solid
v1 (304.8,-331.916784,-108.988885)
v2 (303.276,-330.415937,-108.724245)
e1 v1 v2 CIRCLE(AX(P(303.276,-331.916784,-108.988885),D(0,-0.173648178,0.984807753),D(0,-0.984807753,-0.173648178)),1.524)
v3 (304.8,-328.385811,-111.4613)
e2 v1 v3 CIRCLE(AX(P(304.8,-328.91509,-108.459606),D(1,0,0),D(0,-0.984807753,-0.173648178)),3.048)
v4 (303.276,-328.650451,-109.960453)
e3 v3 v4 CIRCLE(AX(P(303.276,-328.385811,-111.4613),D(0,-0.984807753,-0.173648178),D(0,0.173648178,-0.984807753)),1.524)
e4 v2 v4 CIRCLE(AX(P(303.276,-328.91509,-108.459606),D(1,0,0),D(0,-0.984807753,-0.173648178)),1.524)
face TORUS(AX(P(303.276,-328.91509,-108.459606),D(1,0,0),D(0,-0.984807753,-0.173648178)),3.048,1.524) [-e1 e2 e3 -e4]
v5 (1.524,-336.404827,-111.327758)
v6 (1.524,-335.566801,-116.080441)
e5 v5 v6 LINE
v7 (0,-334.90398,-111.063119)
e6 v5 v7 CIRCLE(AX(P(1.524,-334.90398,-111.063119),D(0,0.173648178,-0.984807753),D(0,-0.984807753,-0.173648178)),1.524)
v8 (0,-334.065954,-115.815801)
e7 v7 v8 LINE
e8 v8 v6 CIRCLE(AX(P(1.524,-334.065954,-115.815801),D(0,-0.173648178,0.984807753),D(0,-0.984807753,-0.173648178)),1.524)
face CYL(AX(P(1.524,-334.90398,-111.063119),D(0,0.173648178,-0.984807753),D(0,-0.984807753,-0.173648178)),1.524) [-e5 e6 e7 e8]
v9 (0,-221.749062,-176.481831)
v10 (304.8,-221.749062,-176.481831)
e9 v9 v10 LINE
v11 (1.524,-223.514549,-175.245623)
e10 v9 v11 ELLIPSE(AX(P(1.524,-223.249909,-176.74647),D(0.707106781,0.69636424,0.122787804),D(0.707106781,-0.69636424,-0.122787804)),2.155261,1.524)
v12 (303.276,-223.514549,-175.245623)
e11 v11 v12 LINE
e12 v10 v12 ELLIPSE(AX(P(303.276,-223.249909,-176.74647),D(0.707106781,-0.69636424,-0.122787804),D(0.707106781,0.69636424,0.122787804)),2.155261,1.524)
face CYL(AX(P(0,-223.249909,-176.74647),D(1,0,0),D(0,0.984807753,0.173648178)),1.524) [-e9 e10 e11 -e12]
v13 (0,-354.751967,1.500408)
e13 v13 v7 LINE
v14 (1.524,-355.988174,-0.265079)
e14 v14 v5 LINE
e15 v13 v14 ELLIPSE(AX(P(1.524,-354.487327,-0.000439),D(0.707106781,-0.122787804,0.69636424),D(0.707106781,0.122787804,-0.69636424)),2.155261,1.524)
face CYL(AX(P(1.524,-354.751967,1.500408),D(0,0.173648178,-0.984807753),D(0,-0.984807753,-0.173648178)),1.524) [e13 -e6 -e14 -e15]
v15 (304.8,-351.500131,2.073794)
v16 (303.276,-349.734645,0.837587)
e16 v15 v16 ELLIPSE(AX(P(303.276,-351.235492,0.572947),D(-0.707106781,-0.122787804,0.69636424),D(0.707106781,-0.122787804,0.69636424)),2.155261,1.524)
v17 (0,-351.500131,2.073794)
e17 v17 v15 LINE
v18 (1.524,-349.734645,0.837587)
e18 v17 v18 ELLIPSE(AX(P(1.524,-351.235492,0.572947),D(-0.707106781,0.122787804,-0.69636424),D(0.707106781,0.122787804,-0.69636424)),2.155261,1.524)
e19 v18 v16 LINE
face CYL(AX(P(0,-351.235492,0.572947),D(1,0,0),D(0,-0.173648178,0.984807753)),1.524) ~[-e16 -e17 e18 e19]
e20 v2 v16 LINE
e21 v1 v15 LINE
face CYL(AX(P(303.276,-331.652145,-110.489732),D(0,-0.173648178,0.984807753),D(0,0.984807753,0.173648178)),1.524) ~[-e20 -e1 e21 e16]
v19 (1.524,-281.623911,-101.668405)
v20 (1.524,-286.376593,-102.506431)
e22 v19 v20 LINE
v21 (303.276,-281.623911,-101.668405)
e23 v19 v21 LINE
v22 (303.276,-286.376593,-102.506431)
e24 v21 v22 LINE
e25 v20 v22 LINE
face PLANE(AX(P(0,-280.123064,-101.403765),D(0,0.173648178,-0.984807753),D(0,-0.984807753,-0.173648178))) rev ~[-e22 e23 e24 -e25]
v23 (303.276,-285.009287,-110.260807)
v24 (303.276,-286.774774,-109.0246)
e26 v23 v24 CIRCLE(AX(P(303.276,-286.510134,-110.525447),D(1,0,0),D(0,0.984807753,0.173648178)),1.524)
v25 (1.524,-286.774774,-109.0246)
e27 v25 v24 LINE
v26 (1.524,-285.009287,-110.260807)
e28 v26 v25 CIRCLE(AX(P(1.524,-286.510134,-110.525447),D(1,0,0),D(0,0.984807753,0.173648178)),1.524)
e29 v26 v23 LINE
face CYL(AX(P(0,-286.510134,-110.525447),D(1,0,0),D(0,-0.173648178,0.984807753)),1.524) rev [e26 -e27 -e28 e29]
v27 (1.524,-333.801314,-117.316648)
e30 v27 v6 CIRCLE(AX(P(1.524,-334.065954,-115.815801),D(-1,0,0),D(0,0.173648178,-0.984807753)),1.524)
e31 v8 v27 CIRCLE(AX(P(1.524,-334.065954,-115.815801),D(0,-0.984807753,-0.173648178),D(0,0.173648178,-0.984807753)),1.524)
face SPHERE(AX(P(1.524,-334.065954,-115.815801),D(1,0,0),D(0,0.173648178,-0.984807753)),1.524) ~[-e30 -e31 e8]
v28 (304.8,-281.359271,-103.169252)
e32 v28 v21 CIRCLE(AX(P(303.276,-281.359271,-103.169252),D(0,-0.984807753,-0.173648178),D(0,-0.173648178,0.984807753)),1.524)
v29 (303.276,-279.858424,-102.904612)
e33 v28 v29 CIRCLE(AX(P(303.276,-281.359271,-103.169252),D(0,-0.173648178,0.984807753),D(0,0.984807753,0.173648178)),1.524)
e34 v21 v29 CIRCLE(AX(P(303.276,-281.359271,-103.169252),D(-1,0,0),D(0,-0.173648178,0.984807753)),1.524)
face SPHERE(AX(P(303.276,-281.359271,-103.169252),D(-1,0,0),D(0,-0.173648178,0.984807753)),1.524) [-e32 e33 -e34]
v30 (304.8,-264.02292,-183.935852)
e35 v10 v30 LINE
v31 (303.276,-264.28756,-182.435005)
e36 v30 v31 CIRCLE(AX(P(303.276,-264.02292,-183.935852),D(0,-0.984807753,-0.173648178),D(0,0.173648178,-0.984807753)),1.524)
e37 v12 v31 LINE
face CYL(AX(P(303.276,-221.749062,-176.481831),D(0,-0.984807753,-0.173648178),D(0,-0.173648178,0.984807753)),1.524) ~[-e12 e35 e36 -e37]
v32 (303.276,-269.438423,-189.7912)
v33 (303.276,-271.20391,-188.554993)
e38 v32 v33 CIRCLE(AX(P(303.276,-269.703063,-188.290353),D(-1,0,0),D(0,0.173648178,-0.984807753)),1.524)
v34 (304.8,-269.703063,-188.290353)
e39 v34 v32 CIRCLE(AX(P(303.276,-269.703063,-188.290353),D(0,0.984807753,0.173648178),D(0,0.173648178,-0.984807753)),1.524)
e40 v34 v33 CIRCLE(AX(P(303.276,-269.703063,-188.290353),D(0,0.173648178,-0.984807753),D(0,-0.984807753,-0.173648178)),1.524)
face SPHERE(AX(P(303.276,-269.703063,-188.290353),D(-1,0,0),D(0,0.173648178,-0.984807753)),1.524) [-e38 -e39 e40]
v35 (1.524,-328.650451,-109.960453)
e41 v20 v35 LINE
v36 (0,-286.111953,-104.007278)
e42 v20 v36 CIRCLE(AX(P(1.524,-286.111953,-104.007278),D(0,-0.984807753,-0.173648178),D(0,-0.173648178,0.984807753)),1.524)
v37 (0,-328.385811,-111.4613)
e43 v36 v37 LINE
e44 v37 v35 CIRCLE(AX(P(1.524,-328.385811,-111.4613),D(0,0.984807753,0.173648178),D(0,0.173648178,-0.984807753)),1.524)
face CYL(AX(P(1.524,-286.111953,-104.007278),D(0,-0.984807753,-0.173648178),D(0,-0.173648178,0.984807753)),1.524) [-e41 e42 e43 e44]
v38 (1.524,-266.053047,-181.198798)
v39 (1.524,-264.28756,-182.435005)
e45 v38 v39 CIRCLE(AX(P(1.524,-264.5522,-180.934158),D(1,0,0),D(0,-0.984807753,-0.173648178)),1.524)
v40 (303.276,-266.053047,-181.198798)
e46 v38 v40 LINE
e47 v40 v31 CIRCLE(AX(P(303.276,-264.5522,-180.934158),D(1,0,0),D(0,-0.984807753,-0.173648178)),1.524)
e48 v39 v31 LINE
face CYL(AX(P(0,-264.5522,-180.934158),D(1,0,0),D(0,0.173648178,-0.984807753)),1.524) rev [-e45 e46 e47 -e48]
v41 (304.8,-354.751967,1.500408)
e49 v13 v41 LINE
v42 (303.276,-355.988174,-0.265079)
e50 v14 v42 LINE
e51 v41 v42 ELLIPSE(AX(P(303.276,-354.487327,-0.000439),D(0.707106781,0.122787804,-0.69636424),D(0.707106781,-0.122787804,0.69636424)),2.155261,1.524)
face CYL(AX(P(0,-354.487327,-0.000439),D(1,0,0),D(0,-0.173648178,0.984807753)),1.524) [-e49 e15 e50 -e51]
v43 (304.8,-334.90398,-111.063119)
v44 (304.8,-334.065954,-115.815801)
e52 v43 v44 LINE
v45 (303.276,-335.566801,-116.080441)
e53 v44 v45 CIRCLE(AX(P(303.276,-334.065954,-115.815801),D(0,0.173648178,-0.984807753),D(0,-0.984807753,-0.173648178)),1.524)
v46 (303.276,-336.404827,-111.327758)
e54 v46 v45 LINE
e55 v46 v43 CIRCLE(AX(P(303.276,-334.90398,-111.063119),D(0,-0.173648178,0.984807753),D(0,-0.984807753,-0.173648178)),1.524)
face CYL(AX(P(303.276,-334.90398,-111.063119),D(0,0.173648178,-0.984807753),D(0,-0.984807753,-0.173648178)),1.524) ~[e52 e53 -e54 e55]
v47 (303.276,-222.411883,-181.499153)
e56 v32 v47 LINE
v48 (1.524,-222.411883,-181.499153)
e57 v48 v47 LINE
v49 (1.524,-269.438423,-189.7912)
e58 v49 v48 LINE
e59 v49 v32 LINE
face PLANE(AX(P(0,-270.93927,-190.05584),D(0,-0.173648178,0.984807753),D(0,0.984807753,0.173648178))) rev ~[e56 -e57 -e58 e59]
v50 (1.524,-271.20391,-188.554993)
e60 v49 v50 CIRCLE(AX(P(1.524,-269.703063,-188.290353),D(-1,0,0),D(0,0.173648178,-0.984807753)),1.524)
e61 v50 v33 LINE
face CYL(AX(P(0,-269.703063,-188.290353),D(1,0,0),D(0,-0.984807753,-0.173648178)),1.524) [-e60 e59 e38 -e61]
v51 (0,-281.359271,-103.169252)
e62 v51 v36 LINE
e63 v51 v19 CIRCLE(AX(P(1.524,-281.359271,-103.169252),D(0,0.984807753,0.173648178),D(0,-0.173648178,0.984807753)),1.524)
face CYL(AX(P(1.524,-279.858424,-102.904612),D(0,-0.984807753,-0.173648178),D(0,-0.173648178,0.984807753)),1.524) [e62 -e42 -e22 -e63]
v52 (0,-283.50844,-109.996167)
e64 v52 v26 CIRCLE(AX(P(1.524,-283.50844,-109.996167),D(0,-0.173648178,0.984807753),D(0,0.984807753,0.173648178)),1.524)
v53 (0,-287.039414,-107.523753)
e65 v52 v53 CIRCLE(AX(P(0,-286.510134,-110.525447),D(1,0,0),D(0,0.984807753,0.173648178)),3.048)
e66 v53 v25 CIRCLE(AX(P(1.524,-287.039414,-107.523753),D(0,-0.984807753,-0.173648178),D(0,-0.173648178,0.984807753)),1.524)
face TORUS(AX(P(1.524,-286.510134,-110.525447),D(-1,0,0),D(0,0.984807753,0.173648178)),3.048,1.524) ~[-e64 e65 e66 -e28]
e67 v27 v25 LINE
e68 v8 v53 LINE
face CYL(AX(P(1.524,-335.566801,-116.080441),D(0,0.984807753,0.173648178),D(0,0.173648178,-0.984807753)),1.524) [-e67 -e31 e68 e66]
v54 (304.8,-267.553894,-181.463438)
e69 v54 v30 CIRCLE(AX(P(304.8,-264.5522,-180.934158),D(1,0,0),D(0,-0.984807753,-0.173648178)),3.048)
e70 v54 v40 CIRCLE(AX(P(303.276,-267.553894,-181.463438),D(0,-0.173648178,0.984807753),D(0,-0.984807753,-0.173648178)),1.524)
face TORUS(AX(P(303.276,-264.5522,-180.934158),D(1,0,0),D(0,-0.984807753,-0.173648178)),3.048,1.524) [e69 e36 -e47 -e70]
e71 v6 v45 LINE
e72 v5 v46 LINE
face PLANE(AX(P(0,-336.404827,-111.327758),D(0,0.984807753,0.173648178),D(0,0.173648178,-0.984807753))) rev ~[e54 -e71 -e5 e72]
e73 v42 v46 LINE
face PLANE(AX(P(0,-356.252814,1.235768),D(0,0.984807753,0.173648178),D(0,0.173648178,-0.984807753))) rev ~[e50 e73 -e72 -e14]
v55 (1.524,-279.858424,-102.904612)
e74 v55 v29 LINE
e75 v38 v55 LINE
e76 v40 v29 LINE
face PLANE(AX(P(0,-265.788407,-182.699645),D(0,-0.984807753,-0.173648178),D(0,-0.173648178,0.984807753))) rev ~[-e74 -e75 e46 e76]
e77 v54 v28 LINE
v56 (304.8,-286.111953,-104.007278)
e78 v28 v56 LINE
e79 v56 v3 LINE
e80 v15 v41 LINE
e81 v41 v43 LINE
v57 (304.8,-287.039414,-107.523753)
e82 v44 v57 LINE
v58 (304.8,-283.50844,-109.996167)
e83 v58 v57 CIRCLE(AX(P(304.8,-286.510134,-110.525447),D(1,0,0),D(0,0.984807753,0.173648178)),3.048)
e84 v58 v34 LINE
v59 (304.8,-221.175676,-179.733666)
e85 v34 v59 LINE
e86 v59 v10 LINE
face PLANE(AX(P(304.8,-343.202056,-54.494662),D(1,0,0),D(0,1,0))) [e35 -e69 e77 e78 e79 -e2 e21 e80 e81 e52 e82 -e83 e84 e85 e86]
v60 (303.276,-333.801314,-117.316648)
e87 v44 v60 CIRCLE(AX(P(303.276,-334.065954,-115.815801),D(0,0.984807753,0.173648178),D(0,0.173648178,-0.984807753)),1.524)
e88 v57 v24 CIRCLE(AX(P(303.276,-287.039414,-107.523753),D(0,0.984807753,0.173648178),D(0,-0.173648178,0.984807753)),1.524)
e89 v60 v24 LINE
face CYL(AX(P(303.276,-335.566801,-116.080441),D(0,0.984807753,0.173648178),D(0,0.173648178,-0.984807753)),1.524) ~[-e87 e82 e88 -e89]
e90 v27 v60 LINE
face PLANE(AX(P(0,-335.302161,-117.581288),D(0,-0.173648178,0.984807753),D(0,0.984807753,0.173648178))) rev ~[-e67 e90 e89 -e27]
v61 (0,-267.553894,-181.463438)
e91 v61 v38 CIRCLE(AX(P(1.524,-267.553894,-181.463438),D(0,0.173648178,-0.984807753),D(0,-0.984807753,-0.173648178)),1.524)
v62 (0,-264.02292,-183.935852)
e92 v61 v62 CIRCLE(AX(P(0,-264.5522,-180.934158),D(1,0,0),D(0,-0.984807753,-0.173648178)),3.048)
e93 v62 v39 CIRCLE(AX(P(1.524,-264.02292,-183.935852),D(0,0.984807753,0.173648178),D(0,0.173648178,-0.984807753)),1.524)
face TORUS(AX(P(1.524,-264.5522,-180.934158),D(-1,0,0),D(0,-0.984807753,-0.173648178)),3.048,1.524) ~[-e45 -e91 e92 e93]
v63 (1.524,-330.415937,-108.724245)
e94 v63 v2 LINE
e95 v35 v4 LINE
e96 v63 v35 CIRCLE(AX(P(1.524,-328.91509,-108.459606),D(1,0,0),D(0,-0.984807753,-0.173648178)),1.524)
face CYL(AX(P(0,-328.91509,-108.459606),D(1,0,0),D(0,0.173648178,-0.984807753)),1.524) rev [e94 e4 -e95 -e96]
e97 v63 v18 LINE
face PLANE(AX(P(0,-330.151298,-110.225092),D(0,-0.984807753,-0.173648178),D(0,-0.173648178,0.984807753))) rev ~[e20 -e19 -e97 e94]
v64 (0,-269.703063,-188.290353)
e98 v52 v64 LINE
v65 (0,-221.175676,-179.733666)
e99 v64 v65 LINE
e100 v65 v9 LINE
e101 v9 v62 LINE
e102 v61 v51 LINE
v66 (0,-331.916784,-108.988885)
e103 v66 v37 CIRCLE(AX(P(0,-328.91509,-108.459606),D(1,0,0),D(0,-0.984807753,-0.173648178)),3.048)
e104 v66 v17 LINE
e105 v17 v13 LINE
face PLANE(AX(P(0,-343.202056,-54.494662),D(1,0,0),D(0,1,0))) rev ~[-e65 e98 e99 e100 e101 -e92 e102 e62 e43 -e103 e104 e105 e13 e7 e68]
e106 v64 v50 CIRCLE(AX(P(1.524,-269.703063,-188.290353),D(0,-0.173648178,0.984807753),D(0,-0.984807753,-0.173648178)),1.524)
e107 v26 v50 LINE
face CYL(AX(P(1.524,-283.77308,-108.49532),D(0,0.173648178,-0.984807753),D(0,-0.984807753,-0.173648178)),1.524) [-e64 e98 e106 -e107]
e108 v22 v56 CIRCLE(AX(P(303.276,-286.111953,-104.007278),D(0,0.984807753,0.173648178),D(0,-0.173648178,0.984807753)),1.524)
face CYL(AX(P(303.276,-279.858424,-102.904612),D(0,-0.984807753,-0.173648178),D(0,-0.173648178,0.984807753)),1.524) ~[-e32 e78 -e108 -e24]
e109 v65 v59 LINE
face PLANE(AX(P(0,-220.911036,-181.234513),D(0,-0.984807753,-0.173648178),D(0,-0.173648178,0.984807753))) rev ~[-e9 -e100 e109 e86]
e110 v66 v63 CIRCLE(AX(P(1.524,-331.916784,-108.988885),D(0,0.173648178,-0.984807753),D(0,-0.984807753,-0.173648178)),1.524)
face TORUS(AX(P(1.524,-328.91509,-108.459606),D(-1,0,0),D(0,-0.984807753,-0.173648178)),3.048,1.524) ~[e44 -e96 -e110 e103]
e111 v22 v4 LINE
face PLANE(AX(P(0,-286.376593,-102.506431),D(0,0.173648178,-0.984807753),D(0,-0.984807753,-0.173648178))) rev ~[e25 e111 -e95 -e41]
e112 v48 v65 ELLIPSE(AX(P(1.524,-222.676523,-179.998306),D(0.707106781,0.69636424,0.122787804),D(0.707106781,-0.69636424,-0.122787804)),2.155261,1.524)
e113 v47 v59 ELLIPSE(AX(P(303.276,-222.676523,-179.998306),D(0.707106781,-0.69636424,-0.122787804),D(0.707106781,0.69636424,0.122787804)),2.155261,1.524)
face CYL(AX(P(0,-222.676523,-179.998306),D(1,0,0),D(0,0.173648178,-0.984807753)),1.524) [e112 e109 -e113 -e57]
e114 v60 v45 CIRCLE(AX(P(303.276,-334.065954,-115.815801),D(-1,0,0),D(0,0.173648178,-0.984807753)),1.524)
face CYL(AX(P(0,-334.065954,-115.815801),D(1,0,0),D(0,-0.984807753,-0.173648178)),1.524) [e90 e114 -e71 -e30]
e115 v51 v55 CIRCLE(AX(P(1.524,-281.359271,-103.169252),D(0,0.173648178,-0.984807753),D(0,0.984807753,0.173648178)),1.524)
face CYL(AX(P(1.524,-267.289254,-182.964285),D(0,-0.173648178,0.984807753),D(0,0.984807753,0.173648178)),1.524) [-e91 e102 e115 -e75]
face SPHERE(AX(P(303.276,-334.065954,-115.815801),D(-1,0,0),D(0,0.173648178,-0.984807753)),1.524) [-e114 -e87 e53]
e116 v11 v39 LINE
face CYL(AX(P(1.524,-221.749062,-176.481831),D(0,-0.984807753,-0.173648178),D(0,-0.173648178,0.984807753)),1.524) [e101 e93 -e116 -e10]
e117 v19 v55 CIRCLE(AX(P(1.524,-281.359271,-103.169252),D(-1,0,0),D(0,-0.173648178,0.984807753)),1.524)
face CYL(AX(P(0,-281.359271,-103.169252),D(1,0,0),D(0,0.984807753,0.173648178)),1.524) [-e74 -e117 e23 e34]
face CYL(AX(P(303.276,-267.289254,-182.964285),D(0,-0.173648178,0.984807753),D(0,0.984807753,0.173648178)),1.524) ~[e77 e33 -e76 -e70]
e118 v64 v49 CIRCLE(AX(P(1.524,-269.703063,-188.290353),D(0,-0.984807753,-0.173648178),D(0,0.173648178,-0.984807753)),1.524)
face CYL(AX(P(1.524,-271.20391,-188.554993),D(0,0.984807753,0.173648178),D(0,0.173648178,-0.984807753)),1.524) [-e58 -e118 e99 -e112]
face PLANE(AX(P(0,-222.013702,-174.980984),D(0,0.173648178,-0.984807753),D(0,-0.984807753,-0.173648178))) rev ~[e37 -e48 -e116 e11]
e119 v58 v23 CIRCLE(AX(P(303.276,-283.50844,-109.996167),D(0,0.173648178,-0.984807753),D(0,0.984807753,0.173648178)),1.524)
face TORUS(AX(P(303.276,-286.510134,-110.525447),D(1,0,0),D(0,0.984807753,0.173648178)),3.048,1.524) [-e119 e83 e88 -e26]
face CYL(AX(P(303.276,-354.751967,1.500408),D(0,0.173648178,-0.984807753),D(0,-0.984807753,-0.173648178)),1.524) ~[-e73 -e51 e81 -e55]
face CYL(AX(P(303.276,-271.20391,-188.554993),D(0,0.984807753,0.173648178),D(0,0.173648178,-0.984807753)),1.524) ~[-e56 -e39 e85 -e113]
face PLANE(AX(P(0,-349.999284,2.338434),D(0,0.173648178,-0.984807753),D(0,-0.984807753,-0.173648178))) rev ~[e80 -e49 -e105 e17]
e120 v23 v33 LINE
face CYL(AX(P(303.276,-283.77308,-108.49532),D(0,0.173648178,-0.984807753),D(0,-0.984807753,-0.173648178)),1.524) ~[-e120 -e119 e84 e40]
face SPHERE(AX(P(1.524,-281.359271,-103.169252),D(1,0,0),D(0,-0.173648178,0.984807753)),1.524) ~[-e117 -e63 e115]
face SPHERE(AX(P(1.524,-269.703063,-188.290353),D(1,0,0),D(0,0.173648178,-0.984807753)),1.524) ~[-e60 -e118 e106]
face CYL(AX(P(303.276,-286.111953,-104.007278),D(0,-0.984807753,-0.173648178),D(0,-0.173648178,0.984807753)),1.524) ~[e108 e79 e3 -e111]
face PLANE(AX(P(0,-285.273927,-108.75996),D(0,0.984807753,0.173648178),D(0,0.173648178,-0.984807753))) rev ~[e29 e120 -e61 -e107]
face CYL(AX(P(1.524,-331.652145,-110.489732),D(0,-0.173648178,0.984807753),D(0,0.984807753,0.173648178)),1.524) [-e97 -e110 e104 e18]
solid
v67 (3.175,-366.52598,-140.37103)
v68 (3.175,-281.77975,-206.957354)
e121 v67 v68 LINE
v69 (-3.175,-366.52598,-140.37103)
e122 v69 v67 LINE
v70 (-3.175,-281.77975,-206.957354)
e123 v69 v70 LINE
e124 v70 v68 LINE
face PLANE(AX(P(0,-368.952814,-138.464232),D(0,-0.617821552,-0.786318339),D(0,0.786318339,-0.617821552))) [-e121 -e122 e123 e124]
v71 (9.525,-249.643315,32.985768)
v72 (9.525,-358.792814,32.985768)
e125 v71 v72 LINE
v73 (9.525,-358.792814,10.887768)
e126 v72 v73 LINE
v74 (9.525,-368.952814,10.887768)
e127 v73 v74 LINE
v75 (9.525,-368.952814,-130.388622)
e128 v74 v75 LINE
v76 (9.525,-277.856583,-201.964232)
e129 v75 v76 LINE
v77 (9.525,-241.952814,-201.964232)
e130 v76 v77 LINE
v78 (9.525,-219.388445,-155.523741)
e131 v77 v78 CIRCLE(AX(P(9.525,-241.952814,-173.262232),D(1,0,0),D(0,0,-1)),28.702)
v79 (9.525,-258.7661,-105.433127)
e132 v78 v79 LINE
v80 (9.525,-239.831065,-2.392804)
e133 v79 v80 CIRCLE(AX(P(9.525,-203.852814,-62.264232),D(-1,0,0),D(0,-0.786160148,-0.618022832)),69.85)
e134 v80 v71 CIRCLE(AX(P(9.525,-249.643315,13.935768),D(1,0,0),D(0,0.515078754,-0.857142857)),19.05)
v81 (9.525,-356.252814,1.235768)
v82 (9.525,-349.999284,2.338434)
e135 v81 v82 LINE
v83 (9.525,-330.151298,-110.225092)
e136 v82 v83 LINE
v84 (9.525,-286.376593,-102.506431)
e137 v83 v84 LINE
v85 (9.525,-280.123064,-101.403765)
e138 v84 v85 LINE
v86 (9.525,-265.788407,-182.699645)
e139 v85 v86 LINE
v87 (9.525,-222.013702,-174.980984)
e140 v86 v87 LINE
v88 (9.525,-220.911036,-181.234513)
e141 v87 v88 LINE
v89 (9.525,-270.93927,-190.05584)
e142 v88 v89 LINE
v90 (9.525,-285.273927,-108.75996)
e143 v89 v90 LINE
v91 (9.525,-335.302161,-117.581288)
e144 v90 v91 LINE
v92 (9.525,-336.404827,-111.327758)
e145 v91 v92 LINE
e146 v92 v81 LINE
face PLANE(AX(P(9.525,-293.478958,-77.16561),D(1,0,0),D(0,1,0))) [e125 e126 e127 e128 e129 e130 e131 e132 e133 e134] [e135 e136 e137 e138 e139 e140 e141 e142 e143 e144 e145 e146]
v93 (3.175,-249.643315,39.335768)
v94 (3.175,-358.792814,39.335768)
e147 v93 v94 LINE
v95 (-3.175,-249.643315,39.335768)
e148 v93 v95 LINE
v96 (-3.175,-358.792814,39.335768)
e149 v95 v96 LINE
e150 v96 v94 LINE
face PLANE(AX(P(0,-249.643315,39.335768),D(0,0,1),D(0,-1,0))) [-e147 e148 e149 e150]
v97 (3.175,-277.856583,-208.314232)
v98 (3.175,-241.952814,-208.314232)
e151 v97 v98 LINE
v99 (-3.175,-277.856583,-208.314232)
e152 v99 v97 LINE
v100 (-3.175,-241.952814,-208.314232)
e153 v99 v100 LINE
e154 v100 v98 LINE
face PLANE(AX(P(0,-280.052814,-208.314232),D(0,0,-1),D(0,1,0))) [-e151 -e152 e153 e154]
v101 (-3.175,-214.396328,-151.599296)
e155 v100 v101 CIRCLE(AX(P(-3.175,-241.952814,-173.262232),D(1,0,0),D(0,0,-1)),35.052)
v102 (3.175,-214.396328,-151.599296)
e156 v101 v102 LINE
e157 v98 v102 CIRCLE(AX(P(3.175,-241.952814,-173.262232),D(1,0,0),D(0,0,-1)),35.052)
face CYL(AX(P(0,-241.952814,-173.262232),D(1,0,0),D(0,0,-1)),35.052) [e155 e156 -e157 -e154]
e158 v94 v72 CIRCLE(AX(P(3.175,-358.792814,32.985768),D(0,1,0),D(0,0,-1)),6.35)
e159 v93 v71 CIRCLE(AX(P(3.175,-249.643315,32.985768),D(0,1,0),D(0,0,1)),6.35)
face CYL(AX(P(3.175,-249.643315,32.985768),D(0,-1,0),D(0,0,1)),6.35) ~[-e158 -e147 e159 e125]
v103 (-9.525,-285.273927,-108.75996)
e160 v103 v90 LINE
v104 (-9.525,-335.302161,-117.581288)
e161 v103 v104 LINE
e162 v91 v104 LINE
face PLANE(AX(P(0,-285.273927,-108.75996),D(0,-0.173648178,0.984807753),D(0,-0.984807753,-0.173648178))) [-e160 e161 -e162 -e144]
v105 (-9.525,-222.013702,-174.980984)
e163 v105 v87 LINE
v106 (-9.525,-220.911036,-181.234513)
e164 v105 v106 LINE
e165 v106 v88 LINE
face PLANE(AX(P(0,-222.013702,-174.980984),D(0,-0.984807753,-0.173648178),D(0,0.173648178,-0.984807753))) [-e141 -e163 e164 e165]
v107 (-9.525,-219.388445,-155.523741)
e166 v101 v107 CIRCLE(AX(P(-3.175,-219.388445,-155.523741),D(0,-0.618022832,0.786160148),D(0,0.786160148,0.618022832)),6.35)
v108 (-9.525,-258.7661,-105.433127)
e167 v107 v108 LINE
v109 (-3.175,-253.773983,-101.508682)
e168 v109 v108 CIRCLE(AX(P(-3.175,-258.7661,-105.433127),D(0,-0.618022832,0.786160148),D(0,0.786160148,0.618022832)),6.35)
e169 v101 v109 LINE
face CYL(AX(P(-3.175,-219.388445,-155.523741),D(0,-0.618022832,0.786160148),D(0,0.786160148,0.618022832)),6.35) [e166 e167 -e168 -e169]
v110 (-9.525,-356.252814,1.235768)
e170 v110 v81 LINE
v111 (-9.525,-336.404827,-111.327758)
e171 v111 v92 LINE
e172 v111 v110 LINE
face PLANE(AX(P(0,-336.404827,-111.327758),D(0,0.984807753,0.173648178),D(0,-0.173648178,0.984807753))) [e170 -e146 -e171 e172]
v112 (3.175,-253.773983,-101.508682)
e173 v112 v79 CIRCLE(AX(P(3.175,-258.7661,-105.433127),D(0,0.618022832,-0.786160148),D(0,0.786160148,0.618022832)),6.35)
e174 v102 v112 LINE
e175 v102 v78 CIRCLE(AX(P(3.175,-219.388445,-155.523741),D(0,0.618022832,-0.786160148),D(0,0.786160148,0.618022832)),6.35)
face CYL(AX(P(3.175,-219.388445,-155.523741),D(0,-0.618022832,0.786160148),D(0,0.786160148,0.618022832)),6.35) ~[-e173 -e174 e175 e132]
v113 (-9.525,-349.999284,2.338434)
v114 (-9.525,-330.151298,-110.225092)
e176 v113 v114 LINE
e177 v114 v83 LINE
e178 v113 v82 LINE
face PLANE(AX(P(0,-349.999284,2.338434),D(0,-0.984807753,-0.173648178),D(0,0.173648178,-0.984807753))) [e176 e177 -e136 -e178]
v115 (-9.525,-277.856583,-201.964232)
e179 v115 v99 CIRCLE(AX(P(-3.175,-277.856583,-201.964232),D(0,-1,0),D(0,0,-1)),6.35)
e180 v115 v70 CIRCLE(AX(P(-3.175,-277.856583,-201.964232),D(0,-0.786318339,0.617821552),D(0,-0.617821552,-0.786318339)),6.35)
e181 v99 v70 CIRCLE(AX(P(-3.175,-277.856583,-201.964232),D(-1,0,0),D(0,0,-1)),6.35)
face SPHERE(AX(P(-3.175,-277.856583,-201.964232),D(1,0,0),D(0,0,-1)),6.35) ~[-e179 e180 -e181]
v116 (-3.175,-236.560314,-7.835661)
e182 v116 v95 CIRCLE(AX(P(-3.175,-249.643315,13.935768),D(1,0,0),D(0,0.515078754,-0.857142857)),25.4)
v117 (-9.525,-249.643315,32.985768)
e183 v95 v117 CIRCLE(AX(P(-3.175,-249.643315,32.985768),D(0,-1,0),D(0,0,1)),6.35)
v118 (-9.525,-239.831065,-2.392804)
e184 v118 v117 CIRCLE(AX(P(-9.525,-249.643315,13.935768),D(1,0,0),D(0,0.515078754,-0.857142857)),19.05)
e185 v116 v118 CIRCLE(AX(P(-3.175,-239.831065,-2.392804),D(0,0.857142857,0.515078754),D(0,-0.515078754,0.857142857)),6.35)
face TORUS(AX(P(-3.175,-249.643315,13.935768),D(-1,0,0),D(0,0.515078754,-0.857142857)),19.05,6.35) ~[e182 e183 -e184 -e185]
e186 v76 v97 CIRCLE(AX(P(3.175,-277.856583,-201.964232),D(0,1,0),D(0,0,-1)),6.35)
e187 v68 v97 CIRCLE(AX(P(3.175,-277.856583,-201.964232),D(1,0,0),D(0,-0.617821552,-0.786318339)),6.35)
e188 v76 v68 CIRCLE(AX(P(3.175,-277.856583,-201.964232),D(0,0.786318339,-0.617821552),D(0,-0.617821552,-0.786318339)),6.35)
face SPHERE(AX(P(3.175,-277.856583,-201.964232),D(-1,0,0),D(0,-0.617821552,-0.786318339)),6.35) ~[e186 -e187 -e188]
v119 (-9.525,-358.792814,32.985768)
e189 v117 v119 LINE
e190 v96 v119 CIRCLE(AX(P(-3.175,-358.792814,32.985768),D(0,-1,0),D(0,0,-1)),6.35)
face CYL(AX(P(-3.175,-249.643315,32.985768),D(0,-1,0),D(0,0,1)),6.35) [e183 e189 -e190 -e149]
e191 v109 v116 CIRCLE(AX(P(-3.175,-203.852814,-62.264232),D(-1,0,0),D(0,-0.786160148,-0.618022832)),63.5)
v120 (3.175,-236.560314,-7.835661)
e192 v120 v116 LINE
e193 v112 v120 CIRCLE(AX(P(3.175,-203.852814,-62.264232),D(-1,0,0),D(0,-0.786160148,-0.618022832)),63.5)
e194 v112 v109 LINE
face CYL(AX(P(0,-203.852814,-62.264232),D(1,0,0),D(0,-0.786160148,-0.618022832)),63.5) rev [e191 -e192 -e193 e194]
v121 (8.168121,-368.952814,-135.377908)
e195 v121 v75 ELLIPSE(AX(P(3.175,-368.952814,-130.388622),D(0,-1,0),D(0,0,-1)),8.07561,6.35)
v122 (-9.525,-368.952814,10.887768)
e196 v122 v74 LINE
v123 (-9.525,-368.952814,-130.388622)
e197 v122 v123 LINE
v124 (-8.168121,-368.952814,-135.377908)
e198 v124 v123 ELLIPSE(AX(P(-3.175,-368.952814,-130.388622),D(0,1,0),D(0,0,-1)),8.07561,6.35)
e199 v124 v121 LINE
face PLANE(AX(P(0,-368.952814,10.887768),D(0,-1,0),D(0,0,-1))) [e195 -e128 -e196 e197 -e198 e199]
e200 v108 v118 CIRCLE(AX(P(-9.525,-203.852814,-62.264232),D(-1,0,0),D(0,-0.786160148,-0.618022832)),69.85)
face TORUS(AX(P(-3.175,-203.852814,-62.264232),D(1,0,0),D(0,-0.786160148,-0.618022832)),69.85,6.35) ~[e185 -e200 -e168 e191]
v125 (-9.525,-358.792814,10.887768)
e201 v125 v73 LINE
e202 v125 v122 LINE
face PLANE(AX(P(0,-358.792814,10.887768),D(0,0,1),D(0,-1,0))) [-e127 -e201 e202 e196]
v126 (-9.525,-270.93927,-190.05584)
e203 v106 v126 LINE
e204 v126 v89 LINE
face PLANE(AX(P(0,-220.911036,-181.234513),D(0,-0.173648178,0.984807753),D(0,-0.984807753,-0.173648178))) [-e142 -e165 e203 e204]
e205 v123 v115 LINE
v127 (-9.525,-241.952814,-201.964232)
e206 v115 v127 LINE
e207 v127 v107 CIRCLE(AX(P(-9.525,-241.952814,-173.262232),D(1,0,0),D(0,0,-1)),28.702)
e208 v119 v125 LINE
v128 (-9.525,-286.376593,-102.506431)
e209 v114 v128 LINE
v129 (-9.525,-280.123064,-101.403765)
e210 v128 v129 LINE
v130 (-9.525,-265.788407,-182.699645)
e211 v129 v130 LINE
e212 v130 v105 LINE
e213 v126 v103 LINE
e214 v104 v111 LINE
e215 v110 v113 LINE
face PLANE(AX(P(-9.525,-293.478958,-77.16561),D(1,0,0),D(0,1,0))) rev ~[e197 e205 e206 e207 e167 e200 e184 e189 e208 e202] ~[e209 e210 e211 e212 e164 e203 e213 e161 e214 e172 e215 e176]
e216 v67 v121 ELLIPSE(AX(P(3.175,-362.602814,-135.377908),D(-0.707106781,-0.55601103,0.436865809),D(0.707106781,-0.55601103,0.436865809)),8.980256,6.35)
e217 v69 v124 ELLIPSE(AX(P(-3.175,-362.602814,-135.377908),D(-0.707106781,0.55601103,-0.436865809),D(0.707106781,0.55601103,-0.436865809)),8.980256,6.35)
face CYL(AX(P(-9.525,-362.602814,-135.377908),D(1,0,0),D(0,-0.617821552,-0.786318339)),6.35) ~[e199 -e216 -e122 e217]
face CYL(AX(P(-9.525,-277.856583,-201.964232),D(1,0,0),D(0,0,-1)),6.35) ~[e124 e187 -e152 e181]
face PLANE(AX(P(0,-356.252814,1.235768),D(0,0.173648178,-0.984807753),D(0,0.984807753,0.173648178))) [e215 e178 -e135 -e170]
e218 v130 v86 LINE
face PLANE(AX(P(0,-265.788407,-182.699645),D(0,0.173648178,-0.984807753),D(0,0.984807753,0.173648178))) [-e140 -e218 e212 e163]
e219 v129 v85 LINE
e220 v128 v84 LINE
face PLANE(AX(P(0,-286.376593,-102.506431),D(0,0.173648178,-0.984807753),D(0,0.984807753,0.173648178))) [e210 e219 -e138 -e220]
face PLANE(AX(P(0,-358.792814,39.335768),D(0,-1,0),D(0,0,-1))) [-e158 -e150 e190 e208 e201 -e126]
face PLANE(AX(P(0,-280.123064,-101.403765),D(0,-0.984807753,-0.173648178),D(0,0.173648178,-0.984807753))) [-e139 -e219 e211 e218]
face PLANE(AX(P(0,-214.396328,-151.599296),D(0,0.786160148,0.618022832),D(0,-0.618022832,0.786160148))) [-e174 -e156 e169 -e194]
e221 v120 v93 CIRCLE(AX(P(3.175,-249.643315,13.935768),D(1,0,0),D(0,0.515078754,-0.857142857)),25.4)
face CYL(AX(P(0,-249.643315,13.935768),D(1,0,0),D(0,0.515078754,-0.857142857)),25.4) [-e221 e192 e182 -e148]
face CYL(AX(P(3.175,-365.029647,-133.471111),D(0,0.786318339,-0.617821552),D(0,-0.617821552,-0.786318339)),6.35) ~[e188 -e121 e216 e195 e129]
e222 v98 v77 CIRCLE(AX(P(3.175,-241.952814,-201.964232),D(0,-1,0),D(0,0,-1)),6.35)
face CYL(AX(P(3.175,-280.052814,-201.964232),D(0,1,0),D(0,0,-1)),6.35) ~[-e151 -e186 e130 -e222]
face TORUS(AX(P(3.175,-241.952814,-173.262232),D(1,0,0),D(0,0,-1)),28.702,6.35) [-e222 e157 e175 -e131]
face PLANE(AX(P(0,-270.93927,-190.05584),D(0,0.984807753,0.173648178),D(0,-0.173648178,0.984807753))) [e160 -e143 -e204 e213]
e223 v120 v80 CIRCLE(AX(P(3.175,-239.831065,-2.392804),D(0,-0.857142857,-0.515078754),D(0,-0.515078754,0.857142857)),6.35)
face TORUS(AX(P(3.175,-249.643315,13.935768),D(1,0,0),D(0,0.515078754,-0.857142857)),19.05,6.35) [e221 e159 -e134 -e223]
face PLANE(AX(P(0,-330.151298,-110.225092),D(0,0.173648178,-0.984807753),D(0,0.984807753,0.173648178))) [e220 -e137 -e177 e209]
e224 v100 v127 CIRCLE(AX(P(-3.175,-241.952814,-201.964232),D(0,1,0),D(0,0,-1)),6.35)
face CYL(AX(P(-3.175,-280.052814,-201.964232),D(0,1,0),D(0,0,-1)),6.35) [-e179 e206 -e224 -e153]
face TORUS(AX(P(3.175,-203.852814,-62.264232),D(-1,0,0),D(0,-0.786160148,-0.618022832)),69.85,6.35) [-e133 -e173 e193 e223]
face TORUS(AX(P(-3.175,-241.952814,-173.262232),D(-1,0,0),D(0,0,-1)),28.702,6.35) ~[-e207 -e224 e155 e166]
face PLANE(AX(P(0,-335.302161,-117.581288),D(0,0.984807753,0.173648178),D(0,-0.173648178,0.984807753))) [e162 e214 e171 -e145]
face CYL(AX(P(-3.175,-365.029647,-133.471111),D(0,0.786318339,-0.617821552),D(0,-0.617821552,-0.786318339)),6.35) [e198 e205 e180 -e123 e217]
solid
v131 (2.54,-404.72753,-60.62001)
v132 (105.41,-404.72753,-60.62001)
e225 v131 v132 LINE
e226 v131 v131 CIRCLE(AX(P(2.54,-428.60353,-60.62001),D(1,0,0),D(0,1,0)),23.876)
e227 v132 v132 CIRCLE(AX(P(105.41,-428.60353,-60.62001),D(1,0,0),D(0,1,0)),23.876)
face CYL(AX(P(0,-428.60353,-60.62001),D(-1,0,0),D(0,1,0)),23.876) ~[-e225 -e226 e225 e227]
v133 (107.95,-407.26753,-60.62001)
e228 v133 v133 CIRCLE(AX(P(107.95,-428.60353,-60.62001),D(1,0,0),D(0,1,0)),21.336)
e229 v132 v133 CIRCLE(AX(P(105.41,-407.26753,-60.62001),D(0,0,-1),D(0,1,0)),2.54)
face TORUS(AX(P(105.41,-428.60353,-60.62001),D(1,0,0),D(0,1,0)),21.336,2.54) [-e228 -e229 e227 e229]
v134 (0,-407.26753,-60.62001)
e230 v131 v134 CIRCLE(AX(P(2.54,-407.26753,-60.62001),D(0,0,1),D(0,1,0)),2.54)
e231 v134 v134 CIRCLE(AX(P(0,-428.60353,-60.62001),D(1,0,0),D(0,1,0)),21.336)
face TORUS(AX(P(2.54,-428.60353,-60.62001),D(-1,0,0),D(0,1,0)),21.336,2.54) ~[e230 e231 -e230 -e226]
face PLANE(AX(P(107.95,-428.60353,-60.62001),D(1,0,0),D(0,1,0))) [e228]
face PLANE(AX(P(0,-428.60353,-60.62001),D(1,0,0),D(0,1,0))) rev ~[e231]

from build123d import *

# Parameters (mm, degrees)
F1_DEPTH = 304.8
F2_DEPTH = 9.525
F3_R     = 23.876
F4_DEPTH = 107.95
F5_R     = 2.54
F6_R     = 6.35
F7_R     = 1.524


with BuildPart() as f1:
    # F0 (on Right) → F1 (new body)
    with BuildSketch(Plane.YZ):
        Polygon((-349.9992843638, 2.3384337475), (-356.2528135955, 1.2357678193), (-336.4048268881, -111.32775835), (-330.1512976565, -110.2250924218), align=None)
        Polygon((-330.1512976565, -110.2250924218), (-336.4048268881, -111.32775835), (-335.30216096, -117.5812875816), (-285.2739271069, -108.7599601561), (-286.3765930351, -102.5064309245), align=None)
        Polygon((-280.1230638035, -101.4037649963), (-286.3765930351, -102.5064309245), (-285.2739271069, -108.7599601561), (-272.0419359687, -183.8023109356), (-265.7884067371, -182.6996450075), align=None)
        Polygon((-265.7884067371, -182.6996450075), (-272.0419359687, -183.8023109356), (-270.9392700405, -190.0558401673), (-220.9110361875, -181.2345127418), (-222.0137021157, -174.9809835102), align=None)
    extrude(amount=F1_DEPTH)

    # F7
    f7_edges = [f1.edges().sort_by_distance(p)[0] for p in [
        (152.4, -330.151298, -110.225092),
        (152.4, -349.999284, 2.338434),
        (0, -340.075291, -53.943329),
        (304.8, -340.075291, -53.943329),
        (152.4, -280.123064, -101.403765),
        (0, -305.137181, -105.814429),
        (304.8, -305.137181, -105.814429),
        (152.4, -265.788407, -182.699645),
        (0, -272.955735, -142.051705),
        (304.8, -272.955735, -142.051705),
        (152.4, -222.013702, -174.980984),
        (0, -243.901054, -178.840314),
        (304.8, -243.901054, -178.840314),
        (152.4, -270.93927, -190.05584),
        (152.4, -220.911036, -181.234513),
        (0, -245.925153, -185.645176),
        (304.8, -245.925153, -185.645176),
        (152.4, -285.273927, -108.75996),
        (0, -278.106599, -149.4079),
        (304.8, -278.106599, -149.4079),
        (152.4, -335.302161, -117.581288),
        (0, -310.288044, -113.170624),
        (304.8, -310.288044, -113.170624),
        (152.4, -356.252814, 1.235768),
        (0, -345.777487, -58.17276),
        (304.8, -345.777487, -58.17276),
    ]]
    fillet(f7_edges, radius=F7_R)


with BuildPart() as f2:
    # F0 (on Right) → F2 (new body, symmetric)
    with BuildSketch(Plane.YZ):
        with BuildLine():
            Line((-249.6433147939, 39.3357678193), (-358.7928135955, 39.3357678193))
            Line((-358.7928135955, 39.3357678193), (-358.7928135955, 10.8877678193))
            Line((-358.7928135955, 10.8877678193), (-368.9528135955, 10.8877678193))
            Line((-368.9528135955, 10.8877678193), (-368.9528135955, -138.4642321807))
            Line((-368.9528135955, -138.4642321807), (-280.0528135955, -208.3142321807))
            Line((-280.0528135955, -208.3142321807), (-241.9528135955, -208.3142321807))
            ThreePointArc((-241.9528135955, -208.3142321807), (-210.4252704945, -188.5807415734), (-214.3963280813, -151.5992958583))
            Line((-214.3963280813, -151.5992958583), (-253.7739830052, -101.50868204))
            ThreePointArc((-253.7739830052, -101.50868204), (-266.3070609832, -50.7874302208), (-236.5603144515, -7.8356607521))
            ThreePointArc((-236.5603144515, -7.8356607521), (-225.1672623577, 20.7242033639), (-249.6433147939, 39.3357678193))
        make_face()
        Polygon((-336.4048268881, -111.32775835), (-356.2528135955, 1.2357678193), (-349.9992843638, 2.3384337475), (-330.1512976565, -110.2250924218), (-286.3765930351, -102.5064309245), (-280.1230638035, -101.4037649963), (-265.7884067371, -182.6996450075), (-222.0137021157, -174.9809835102), (-220.9110361875, -181.2345127418), (-270.9392700405, -190.0558401673), (-272.0419359687, -183.8023109356), (-285.2739271069, -108.7599601561), (-335.30216096, -117.5812875816), align=None, mode=Mode.SUBTRACT)
    extrude(amount=F2_DEPTH, both=True)

    # F6
    f6_edges = [f2.edges().sort_by_distance(p)[0] for p in [
        (0, -368.952814, -138.464232),
        (-9.525, -324.502814, -173.389232),
        (0, -280.052814, -208.314232),
        (9.525, -324.502814, -173.389232),
        (-9.525, -261.002814, -208.314232),
        (0, -241.952814, -208.314232),
        (9.525, -261.002814, -208.314232),
    ]]
    fillet(f6_edges, radius=F6_R)


with BuildPart() as f4:
    # F3 (on Right) → F4 (new body)
    with BuildSketch(Plane.YZ):
        with Locations((-428.6035299301, -60.6200098991)):
            Circle(F3_R)
    extrude(amount=F4_DEPTH)

    # F5
    f5_edges = [f4.edges().sort_by_distance(p)[0] for p in [
        (107.95, -452.47953, -60.62001),
        (0, -452.47953, -60.62001),
    ]]
    fillet(f5_edges, radius=F5_R)


solid = Compound([f1.part, f2.part, f4.part])
